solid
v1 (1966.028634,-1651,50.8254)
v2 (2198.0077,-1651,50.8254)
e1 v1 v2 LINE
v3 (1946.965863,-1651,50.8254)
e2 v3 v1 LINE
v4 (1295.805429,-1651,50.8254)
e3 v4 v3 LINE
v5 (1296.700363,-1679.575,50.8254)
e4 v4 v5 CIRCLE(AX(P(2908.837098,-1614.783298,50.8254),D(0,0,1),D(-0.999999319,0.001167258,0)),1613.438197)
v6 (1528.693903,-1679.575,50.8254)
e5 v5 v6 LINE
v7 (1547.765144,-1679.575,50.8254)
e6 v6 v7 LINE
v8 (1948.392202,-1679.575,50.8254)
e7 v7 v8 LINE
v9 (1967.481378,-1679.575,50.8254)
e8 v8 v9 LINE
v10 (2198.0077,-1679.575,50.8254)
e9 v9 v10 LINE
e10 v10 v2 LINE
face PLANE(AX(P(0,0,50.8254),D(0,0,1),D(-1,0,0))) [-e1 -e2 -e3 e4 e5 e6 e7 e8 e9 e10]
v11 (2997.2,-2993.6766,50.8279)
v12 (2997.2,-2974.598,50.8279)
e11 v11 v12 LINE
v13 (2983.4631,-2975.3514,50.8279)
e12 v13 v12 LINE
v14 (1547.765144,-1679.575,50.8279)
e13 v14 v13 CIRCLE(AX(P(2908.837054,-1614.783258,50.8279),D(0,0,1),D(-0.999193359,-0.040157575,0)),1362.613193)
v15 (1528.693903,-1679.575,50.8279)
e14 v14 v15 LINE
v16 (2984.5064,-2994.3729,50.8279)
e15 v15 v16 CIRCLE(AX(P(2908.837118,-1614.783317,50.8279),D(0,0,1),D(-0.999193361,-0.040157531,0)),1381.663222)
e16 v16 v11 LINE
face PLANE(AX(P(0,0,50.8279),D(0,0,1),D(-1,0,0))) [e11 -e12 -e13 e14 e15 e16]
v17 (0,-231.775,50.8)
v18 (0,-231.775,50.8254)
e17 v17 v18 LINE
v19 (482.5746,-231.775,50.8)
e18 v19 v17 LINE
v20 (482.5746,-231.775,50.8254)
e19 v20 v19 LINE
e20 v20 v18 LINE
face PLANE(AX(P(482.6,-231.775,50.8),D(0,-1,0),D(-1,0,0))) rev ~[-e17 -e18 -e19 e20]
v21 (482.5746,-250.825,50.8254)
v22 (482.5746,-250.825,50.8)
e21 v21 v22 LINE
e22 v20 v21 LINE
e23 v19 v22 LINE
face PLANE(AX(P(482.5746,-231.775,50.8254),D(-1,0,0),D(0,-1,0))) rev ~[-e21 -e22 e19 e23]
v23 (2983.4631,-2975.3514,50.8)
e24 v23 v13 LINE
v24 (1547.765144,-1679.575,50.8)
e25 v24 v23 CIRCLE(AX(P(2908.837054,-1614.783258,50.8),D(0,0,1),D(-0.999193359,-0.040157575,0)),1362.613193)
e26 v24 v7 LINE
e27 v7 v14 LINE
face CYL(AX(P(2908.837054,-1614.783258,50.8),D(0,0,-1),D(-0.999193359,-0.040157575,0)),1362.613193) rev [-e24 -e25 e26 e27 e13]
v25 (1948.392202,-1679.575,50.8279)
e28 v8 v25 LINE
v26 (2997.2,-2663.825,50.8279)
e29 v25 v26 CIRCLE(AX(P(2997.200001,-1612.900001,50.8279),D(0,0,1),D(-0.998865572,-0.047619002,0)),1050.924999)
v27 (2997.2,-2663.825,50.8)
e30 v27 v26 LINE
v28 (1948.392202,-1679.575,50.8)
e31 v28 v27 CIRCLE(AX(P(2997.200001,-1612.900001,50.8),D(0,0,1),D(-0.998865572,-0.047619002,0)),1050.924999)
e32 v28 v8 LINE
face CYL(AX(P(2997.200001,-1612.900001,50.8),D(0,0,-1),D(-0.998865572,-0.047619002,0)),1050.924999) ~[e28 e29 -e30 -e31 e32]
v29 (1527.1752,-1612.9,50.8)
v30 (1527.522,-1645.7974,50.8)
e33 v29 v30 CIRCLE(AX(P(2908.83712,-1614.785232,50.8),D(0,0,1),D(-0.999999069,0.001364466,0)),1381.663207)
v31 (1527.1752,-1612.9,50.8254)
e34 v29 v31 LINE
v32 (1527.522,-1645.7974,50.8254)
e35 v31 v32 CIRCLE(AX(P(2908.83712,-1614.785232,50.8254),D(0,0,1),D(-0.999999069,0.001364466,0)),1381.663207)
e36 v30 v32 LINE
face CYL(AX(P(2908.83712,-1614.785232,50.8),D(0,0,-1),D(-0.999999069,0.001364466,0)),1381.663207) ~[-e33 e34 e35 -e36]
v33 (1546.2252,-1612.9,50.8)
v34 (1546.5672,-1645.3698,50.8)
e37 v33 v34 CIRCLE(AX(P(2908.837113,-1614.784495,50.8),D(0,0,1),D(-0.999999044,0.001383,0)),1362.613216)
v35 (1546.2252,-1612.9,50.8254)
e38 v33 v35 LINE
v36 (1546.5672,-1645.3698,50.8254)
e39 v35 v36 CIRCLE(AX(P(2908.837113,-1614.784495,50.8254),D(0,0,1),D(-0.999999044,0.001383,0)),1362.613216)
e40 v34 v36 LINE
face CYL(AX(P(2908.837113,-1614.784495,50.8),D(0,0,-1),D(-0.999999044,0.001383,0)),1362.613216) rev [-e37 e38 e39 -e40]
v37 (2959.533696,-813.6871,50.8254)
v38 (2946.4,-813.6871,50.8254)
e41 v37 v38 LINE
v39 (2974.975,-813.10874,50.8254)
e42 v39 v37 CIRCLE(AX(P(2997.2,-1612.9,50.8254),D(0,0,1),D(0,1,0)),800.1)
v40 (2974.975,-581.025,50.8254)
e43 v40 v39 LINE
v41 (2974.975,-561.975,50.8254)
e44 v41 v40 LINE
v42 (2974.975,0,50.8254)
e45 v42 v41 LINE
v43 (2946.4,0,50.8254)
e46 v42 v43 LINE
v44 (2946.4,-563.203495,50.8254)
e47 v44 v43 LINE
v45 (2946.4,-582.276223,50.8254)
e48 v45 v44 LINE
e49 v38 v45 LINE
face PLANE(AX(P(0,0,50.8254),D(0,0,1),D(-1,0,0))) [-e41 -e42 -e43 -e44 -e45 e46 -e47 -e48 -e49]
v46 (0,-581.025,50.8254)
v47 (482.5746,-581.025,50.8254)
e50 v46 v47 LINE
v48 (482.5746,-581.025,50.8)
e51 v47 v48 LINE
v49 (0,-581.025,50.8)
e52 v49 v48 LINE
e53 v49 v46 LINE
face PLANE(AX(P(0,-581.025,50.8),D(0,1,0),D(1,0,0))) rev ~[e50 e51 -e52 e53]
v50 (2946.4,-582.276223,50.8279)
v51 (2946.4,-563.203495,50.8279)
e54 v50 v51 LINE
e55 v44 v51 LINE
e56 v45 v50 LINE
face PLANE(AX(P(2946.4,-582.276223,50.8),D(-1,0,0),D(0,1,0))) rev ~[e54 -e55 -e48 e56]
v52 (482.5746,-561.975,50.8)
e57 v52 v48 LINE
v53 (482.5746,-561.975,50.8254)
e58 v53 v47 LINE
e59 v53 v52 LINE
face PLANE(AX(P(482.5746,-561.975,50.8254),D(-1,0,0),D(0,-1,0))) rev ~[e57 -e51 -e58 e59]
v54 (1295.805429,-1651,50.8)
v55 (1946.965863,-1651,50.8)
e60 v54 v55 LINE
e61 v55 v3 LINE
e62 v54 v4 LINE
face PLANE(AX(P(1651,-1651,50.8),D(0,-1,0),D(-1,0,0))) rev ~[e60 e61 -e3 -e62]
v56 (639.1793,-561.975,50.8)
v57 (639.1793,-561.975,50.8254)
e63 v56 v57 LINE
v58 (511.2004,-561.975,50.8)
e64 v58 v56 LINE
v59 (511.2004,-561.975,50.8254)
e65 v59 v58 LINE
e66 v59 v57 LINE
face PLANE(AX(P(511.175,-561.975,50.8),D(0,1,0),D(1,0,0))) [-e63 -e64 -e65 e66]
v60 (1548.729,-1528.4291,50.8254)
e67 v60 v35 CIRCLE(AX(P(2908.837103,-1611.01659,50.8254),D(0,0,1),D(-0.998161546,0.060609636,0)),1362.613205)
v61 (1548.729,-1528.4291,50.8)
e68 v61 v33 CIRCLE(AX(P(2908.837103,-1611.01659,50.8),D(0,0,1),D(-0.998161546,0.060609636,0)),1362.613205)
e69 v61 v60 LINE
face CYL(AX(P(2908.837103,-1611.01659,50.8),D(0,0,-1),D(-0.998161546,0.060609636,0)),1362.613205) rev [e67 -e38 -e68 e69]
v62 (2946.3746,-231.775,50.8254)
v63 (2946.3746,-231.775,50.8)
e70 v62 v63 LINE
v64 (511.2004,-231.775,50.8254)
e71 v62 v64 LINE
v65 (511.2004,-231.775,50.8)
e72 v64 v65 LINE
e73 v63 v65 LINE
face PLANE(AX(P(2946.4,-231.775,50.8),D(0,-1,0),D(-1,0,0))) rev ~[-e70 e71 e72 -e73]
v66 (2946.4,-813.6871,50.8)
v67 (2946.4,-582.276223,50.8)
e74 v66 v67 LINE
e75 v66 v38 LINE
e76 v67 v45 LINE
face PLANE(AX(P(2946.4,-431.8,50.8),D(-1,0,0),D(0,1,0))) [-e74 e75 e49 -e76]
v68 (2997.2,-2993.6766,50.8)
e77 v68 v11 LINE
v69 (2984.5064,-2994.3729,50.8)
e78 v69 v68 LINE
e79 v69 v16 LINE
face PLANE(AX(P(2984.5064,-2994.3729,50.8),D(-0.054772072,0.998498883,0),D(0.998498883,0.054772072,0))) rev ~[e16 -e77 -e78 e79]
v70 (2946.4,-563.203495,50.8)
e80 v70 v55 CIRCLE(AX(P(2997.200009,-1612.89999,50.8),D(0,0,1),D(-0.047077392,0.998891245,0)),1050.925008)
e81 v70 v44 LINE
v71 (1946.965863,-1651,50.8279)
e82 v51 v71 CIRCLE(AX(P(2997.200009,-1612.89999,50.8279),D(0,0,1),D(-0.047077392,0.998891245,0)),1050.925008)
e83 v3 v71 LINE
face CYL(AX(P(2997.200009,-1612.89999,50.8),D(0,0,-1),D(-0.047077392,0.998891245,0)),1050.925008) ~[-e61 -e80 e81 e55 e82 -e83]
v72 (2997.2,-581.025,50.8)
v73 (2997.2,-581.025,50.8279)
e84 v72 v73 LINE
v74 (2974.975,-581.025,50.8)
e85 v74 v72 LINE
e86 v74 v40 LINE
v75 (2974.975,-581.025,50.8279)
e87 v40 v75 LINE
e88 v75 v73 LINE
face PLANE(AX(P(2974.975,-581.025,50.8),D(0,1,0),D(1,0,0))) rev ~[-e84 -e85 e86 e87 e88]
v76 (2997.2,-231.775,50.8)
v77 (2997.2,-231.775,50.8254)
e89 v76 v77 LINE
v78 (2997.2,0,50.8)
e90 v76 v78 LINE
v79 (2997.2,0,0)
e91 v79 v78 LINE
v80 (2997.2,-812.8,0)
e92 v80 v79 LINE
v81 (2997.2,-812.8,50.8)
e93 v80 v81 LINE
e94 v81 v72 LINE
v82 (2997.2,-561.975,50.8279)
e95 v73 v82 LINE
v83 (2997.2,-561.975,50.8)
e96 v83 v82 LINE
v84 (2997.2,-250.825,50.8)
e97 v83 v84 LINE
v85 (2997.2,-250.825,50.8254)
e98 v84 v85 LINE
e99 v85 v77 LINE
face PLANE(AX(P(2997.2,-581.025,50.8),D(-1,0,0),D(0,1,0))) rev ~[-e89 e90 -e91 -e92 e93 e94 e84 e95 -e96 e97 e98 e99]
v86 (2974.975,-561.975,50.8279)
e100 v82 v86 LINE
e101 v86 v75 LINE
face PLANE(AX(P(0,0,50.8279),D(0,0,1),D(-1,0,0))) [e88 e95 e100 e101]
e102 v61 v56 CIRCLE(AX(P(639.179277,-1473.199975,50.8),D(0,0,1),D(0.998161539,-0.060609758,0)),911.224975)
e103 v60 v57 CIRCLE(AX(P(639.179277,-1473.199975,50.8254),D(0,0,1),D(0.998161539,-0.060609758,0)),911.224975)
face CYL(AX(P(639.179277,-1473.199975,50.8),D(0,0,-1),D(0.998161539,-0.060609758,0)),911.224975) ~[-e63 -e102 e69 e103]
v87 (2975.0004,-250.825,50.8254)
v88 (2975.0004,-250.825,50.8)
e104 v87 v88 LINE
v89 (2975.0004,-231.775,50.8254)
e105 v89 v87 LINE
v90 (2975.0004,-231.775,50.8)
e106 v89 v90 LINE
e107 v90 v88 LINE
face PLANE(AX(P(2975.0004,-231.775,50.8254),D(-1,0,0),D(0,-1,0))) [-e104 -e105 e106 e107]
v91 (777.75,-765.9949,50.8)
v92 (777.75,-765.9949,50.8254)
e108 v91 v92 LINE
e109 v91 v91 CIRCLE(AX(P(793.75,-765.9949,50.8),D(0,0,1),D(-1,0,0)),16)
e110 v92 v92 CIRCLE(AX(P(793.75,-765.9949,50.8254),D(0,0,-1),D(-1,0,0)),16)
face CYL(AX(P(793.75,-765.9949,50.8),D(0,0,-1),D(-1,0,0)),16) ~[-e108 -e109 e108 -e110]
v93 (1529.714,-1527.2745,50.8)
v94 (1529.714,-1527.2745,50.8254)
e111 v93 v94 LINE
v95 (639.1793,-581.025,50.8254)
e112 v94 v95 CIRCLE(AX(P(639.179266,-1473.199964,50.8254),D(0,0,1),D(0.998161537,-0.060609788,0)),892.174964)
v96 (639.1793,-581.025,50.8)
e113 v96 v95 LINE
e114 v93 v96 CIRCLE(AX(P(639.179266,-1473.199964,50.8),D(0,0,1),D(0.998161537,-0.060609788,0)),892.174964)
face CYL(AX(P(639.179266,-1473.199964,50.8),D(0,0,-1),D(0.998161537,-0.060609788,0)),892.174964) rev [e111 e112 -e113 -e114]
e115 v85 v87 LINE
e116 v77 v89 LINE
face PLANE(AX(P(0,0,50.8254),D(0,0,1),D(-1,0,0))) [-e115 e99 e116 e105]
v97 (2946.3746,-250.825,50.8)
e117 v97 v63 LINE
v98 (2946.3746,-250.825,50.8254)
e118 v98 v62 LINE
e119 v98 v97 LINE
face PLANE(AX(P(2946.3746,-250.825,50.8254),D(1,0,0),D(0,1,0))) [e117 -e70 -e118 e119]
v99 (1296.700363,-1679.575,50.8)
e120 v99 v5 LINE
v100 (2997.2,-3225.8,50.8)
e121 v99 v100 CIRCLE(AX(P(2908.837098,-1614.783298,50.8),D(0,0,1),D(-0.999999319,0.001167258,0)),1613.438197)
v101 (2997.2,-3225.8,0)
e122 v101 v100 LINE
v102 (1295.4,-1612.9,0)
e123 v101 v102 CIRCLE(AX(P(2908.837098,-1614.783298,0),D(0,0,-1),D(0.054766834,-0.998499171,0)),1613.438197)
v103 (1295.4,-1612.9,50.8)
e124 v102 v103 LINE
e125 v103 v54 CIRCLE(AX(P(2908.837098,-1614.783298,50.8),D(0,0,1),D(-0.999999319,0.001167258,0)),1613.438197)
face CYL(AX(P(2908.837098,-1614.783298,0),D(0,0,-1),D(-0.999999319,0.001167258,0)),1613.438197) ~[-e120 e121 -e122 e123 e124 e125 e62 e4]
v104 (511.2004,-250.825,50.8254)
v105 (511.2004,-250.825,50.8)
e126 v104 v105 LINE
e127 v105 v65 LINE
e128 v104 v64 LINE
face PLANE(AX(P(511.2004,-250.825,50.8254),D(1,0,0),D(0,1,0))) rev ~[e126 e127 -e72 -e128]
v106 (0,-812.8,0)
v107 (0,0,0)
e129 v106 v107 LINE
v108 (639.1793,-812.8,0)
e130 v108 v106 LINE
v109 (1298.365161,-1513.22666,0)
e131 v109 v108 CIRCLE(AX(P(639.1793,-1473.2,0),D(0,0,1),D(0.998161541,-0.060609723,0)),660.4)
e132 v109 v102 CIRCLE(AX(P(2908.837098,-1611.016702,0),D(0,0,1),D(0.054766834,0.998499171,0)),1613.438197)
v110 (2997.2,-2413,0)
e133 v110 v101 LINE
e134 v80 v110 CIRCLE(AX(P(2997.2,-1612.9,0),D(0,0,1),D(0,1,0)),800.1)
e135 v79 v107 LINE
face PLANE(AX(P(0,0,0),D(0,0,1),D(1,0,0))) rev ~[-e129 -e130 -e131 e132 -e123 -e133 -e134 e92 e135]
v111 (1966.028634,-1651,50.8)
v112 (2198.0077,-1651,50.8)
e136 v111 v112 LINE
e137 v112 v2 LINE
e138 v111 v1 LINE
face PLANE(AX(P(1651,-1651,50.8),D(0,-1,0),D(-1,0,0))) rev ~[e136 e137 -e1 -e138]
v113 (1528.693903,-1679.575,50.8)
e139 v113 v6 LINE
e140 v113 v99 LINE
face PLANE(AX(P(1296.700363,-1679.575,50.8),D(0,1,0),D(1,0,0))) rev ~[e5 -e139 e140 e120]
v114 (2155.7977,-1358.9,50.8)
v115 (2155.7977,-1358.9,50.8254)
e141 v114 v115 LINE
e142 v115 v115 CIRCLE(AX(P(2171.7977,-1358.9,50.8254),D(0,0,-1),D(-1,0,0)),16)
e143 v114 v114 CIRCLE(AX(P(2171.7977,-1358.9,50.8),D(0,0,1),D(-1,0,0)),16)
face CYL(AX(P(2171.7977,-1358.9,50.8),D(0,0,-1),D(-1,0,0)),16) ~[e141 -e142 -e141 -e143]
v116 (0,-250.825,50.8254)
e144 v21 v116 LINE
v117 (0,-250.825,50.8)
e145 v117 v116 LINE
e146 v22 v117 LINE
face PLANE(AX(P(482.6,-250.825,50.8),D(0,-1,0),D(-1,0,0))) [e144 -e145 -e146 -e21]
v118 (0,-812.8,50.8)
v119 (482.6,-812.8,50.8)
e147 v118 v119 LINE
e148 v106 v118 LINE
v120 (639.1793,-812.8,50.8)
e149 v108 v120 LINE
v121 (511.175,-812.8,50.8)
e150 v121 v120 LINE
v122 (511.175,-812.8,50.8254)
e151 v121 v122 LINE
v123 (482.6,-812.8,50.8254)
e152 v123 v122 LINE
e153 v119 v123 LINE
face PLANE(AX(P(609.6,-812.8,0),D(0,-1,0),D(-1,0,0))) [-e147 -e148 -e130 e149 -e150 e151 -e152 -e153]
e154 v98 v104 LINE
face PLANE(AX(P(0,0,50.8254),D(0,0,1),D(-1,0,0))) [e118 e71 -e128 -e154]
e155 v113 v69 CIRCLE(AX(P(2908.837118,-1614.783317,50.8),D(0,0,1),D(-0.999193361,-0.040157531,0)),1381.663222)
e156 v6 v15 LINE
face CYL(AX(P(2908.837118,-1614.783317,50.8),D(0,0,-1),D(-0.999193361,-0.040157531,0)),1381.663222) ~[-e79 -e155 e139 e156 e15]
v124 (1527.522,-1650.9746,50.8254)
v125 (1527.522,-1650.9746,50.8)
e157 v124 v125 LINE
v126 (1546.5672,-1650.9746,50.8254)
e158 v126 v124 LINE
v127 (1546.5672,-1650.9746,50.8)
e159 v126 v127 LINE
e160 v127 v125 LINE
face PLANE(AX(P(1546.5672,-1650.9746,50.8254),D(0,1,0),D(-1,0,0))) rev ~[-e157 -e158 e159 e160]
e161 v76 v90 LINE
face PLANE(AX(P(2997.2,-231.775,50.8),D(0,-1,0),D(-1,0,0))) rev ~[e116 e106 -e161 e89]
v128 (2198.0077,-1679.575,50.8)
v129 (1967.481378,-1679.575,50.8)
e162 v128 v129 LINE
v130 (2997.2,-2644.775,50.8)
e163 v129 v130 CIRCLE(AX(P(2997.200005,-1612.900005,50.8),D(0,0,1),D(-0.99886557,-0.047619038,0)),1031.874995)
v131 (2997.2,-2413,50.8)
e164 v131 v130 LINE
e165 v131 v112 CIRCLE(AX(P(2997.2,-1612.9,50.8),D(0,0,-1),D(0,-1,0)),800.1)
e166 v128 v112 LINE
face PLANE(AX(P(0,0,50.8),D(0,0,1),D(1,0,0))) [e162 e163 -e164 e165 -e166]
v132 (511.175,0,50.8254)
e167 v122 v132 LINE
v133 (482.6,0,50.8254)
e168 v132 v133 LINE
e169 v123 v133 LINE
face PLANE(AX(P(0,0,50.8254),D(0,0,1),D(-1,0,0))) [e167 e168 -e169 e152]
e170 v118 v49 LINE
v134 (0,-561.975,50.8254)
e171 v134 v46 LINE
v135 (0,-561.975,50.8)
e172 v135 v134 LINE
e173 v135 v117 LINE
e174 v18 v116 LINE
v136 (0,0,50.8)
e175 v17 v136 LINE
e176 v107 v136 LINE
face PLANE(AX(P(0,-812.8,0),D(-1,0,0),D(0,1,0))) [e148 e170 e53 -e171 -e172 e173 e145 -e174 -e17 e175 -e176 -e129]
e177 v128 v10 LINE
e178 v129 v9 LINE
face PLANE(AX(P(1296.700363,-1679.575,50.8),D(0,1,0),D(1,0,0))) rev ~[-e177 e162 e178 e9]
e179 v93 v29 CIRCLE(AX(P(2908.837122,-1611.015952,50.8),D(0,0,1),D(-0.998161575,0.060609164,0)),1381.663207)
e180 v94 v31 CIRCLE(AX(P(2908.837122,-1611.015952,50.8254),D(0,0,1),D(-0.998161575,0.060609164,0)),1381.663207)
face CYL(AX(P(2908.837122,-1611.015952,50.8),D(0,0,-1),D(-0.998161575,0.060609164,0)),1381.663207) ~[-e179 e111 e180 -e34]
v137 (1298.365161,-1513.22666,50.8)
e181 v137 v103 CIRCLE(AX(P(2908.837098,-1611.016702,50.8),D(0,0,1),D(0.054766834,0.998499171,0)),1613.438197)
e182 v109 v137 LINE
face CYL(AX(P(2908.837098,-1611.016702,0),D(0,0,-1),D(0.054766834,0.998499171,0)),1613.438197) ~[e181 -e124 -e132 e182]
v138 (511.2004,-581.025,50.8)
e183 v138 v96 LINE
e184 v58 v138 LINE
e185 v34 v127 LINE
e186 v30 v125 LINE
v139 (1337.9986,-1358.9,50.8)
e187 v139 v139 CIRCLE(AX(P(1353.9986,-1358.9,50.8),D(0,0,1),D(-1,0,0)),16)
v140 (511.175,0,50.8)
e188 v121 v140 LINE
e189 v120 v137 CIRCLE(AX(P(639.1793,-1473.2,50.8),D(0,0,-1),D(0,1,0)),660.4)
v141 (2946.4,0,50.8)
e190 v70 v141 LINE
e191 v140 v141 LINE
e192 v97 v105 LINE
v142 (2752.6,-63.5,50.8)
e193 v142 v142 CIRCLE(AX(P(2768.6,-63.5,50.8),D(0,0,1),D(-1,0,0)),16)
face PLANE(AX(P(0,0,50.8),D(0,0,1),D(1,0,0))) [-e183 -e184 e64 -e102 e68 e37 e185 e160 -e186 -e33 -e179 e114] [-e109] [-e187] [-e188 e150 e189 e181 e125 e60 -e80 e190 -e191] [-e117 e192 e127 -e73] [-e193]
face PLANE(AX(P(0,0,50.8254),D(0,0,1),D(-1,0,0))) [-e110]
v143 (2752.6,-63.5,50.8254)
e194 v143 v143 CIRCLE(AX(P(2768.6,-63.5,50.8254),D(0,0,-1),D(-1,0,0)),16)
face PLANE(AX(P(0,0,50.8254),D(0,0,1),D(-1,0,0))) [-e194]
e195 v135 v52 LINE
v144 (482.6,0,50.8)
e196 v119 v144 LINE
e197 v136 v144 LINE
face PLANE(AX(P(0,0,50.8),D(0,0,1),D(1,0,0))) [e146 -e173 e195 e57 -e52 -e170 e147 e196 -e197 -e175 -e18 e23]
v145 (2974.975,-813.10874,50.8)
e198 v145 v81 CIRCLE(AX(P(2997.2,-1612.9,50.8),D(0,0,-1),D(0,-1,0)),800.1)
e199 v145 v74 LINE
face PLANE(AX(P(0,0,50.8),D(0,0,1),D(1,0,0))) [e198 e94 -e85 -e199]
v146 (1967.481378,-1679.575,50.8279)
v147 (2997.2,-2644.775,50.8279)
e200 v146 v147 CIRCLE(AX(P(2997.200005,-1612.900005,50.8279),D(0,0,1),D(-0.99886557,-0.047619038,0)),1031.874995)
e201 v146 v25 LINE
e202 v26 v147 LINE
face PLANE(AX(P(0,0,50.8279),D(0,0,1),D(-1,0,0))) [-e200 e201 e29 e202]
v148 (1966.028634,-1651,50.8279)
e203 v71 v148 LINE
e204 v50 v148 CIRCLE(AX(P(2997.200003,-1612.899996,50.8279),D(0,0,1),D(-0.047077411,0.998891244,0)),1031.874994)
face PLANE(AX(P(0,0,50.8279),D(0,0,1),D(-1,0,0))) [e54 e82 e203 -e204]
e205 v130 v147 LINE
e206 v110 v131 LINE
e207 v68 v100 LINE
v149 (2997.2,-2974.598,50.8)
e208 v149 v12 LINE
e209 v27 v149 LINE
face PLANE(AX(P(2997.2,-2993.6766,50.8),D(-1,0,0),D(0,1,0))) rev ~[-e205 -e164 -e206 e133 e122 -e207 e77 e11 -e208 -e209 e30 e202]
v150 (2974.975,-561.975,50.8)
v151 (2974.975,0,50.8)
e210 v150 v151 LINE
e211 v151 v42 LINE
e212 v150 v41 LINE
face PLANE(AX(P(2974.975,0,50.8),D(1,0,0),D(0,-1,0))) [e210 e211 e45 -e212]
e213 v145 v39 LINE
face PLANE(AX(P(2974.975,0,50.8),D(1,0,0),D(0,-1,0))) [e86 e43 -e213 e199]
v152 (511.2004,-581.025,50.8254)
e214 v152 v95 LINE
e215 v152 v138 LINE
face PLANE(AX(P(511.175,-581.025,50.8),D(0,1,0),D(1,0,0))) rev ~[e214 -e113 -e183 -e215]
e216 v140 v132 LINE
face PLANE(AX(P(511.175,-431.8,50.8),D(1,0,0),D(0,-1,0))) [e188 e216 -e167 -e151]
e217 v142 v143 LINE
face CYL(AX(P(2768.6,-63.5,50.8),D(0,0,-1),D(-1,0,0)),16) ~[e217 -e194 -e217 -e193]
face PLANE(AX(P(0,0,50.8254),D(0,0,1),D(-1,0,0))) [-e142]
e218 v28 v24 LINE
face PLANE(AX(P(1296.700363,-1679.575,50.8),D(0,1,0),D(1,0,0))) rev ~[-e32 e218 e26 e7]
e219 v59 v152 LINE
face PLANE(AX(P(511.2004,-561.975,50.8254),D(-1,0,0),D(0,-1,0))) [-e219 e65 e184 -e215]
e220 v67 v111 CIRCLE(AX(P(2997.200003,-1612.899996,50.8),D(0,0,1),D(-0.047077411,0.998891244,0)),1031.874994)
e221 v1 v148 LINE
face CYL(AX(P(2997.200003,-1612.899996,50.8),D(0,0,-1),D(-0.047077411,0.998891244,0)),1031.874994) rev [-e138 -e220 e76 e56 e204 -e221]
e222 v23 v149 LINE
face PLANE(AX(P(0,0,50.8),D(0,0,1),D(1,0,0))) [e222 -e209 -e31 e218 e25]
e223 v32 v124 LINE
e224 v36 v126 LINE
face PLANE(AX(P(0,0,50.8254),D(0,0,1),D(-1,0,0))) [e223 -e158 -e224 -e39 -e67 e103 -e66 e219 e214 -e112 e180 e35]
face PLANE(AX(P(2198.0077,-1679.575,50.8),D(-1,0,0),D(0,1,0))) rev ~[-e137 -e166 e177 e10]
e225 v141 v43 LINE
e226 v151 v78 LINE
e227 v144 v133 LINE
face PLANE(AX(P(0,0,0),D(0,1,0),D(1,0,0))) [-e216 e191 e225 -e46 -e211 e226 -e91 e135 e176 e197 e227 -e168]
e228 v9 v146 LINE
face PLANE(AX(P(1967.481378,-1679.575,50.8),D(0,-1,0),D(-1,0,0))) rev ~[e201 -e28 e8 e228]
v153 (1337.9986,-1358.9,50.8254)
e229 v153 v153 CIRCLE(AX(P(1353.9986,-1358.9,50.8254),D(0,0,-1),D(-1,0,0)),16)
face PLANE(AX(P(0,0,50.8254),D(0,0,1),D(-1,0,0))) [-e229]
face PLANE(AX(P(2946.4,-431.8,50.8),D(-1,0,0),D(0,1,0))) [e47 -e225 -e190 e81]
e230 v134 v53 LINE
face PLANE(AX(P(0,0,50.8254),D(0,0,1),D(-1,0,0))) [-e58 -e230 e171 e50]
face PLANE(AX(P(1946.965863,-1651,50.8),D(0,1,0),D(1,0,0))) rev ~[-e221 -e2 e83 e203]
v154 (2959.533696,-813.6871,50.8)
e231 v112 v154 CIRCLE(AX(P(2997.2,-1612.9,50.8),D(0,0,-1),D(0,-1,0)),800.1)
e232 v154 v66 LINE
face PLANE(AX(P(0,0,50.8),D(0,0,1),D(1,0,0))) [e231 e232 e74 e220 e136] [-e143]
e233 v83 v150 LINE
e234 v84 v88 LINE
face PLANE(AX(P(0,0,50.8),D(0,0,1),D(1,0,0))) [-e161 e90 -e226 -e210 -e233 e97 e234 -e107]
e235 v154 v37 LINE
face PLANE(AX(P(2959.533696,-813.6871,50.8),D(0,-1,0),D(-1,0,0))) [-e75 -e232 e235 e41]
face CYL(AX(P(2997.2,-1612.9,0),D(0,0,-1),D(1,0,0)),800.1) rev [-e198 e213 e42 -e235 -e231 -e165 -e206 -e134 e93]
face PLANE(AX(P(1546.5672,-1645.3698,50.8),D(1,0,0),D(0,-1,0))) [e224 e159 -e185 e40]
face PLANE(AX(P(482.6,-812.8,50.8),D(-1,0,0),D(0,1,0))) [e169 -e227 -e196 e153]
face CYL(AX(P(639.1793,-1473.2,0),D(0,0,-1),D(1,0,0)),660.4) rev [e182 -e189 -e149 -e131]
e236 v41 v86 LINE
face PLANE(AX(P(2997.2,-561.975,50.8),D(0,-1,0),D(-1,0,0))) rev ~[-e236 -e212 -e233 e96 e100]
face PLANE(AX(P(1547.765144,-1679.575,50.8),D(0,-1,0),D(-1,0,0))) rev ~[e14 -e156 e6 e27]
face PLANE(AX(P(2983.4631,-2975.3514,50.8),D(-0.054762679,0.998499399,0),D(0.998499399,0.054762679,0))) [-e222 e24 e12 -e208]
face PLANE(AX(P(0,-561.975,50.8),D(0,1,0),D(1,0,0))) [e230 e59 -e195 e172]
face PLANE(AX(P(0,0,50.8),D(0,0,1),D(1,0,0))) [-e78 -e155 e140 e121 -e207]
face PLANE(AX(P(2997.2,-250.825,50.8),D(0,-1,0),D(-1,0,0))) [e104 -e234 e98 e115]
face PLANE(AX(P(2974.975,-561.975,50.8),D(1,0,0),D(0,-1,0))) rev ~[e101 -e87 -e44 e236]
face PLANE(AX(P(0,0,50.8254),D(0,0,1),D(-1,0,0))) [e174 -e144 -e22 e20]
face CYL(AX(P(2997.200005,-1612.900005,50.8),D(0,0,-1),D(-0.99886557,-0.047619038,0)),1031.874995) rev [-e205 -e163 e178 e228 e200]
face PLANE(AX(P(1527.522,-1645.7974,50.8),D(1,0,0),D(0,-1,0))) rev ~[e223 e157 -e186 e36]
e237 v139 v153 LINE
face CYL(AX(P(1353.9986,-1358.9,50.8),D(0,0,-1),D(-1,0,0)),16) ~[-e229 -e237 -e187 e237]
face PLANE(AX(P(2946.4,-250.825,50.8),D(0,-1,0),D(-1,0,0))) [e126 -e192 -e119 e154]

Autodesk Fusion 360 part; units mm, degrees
sketch "Sketch1" plane through (0, 0, 0) normal (0, 0, 1) x (1, 0, 0)
  line L0 (0, 0) -> (609.6, 0)
  line L1 (609.6, -812.8) -> (0, -812.8)
  line L2 (0, -812.8) -> (0, 0)
  line L3 (0, 0) -> (3022.6, 0)
  line L4 (3022.6, 0) -> (0, 0)
  line L5 (0, 0) -> (0, -812.8)
  line L6 (0, -812.8) -> (3022.6, -812.8)
  line L7 (0, 0) -> (1320.8, 0)
  circle A0 centre (4656.6619, -4772.6092) radius 793.75
  circle A1 centre (4656.6619, -4772.6092) radius 1625.6
  circle A2 centre (2997.2, -1612.9) radius 1612.9
  circle A3 centre (2997.2, -1612.9) radius 800.1
  line L8 (2997.2, -1612.9) -> (2997.2, 0)
  line L9 (2997.2, -1612.9) -> (2997.2, -3225.8)
  line L10 (3022.6, 0) -> (2997.2, 0)
  line L11 (2997.2, 0) -> (2997.2, -812.8)
  line L12 (2997.2, -812.8) -> (3022.6, -812.8)
  line L13 (2997.2, -1612.9) -> (1295.4, -1612.9)
  arc A4 (1384.3, -1612.9) -> (2997.2, -3225.8) centre (2997.2, -1612.9) ccw
  arc A5 (1384.3, -1612.9) -> (2997.2, -3225.8) centre (2997.2, -1612.9) ccw
  line L14 (2997.2, -1612.9) -> (1806.0752, -2792.535)
  arc A6 (1295.4, -1612.9) -> (2997.2, -3225.8) centre (2908.8371, -1614.7833) ccw
  arc A7 (2997.2, 0) -> (1295.4, -1612.9) centre (2908.8371, -1611.0167) ccw
  circle A8 centre (639.1793, -1473.2) radius 660.4
  dimension "d1" = 609.6
  dimension "d2" = 812.8
  dimension "d4" = 3022.6
  dimension "d8" = 1320.8
  dimension "d10" = 1587.5
  dimension "d11" = 3251.2
  dimension "d14" = 25.4
  dimension "d15" = 1701.8
  dimension "d16" = 1676.4
  dimension "d18" = 1320.8
extrude "Extrude1" add sketch "Sketch1" along normal blind 50.8 contours L0 L1 L2 L3 L4 L5 L6 L7 A7 | L3 L4 L6 A2 A7 | L6 A7 A8 | L6 A2 L8 L11 | L6 A2 L13 A7 | L6 A2 A3 L13 | A2 L13 A4 A5 L14 A6 | A2 A4 A5 L14 A6 | A2 A3 L9 A4 A5 L14 | A2 A3 L13 A4 A5 L14
sketch "Lines" plane through (0, 0, 50.8) normal (0, 0, 1) x (-1, 0, 0)
  arc A0 (-1295.4, 1612.9) -> (-2997.2, 3225.8) centre (-2908.8371, 1614.7833) ccw
  line L0 (-2997.2, 3225.8) -> (-2997.2, 2413)
  arc A1 (-2997.2, 812.8) -> (-2997.2, 2413) centre (-2997.2, 1612.9) ccw
  line L1 (-2997.2, 812.8) -> (-2997.2, 0)
  line L2 (-2997.2, 0) -> (0, 0)
  line L3 (0, 0) -> (0, 812.8)
  line L4 (0, 812.8) -> (-639.1793, 812.8)
  arc A2 (-1298.3651, 1513.2267) -> (-639.1793, 812.8) centre (-639.1793, 1473.2) ccw
  arc A3 (-1298.3651, 1513.2267) -> (-1295.4, 1612.9) centre (-2908.8371, 1611.0167) ccw
  line L5 (0, 431.8) -> (-482.6, 431.8)
  line L6 (-482.6, 431.8) -> (-511.175, 431.8)
  line L7 (-511.175, 431.8) -> (-511.175, 812.8)
  line L8 (-511.175, 812.8) -> (-482.6, 812.8)
  line L9 (-482.6, 812.8) -> (-482.6, 431.8)
  line L10 (-511.175, 812.8) -> (-482.6, 812.8)
  line L11 (-482.6, 812.8) -> (-482.6, 0)
  line L12 (-482.6, 0) -> (-511.175, 0)
  line L13 (-511.175, 0) -> (-511.175, 812.8)
  line L14 (-1651, 0) -> (-1651, 1651)
  line L15 (-1651, 1651) -> (-1291.2162, 1651)
  line L16 (-1291.2162, 1651) -> (-1291.2162, 1679.575)
  line L17 (-1291.2162, 1679.575) -> (-1651, 1679.575)
  line L18 (-1651, 1679.575) -> (-1651, 1651)
  line L19 (-1291.2162, 1679.575) -> (-2198.0077, 1679.575)
  line L20 (-2198.0077, 1679.575) -> (-2198.0077, 1651)
  line L21 (-2198.0077, 1651) -> (-1291.2162, 1651)
  line L22 (-1291.2162, 1651) -> (-1291.2162, 1679.575)
  line L23 (0, 431.8) -> (-2946.4, 431.8)
  line L24 (-2946.4, 431.8) -> (-2974.975, 431.8)
  line L25 (-2974.975, 431.8) -> (-2974.975, 813.6871)
  line L26 (-2974.975, 813.6871) -> (-2946.4, 813.6871)
  line L27 (-2946.4, 813.6871) -> (-2946.4, 431.8)
  line L28 (-2974.975, 431.8) -> (-2946.4, 431.8)
  line L29 (-2946.4, 431.8) -> (-2946.4, 0)
  line L30 (-2946.4, 0) -> (-2974.975, 0)
  line L31 (-2974.975, 0) -> (-2974.975, 431.8)
  dimension "d45" = 482.6
  dimension "d46" = 28.575
  dimension "d47" = 1651
  dimension "d48" = 28.575
  dimension "d49" = 2946.4
  dimension "d50" = 28.575
extrude "Extrude6" add sketch "Lines" along normal blind 0.0254 contours A0 L15 L17 L18 L19 L21 | L18 L19 L20 L21 | L4 L6 L7 L8 L9 L10 L11 L13 L23 | L2 L6 L11 L12 L13 L23 | L2 L24 L28 L29 L30 L31 | A1 L24 L25 L26 L27 L28
sketch "Sketch7" plane through (0, 0, 50.8) normal (0, 0, 1) x (-1, 0, 0)
  line L0 (-2959.5333, 813.6871) -> (-2946.4, 813.6871)
  line L1 (-2946.4, 813.6871) -> (-2946.4, 0)
  line L2 (-2946.4, 0) -> (-511.175, 0)
  line L3 (-511.175, 0) -> (-511.175, 812.8)
  line L4 (-511.175, 812.8) -> (-639.1793, 812.8)
  arc A0 (-1298.3651, 1513.2267) -> (-639.1793, 812.8) centre (-639.1793, 1473.2) ccw
  arc A1 (-1298.3651, 1513.2267) -> (-1295.4, 1612.9) centre (-2908.8371, 1611.0167) ccw
  arc A2 (-1295.4, 1612.9) -> (-1295.8054, 1651) centre (-2908.8371, 1614.7833) ccw
  line L5 (-1295.8054, 1651) -> (-2198.0077, 1651)
  arc A3 (-2959.5333, 813.6871) -> (-2198.0077, 1651) centre (-2997.2, 1612.9) ccw
  line L6 (-482.6, 812.8) -> (-482.6, 0)
  line L7 (-482.6, 0) -> (0, 0)
  line L8 (0, 0) -> (0, 812.8)
  line L9 (0, 812.8) -> (-482.6, 812.8)
  line L10 (-2198.0077, 1679.575) -> (-1296.7004, 1679.575)
  arc A4 (-1296.7004, 1679.575) -> (-2997.2, 3225.8) centre (-2908.8371, 1614.7833) ccw
  line L11 (-2997.2, 3225.8) -> (-2997.2, 2413)
  arc A5 (-2198.0077, 1651) -> (-2997.2, 2413) centre (-2997.2, 1612.9) ccw
  line L12 (-2198.0077, 1651) -> (-2198.0077, 1679.575)
  line L13 (-2997.2, 812.8) -> (-2997.2, 0)
  line L14 (-574.675, 749.3) -> (-639.1793, 749.3)
  arc A6 (-1361.7484, 1517.0754) -> (-639.1793, 749.3) centre (-639.1793, 1473.2) ccw
  arc A7 (-1361.7484, 1517.0754) -> (-1359.0773, 1587.5) centre (-2908.8371, 1611.0167) ccw
  line L15 (-1359.0773, 1587.5) -> (-2133.9736, 1587.5)
  arc A8 (-2882.9, 756.8974) -> (-2133.9736, 1587.5) centre (-2997.2, 1612.9) ccw
  line L16 (-2882.9, 756.8974) -> (-2882.9, 63.5)
  line L17 (-2882.9, 63.5) -> (-574.675, 63.5)
  line L18 (-574.675, 63.5) -> (-574.675, 749.3)
  circle A9 centre (-793.75, 765.9949) radius 16
  circle A10 centre (-2171.7977, 1358.9) radius 16
  circle A11 centre (-1353.9986, 1358.9) radius 16
  circle A12 centre (-2768.6, 63.5) radius 16
  dimension "d53" = 63.5
  dimension "d55" = 32
  dimension "d59" = 32
  dimension "d60" = 32
  dimension "d62" = 32
extrude "Extrude7" add sketch "Sketch7" along normal blind 0.0254 contours A6 A9 | A6 A9 | L17 A12 | L17 A12 | A6 A11 | A6 A11 | A8 A10 | A8 A10
sketch "Sketch8" plane through (0, 0, 50.8) normal (0, 0, 1) x (-1, 0, 0)
  line L0 (-482.6, 812.8) -> (-482.6, 0)
  line L1 (-482.6, 0) -> (0, 0)
  line L2 (0, 0) -> (0, 812.8)
  line L3 (0, 812.8) -> (-482.6, 812.8)
  line L4 (-482.6, 231.775) -> (0, 231.775)
  line L5 (-482.6, 250.825) -> (0, 250.825)
  line L6 (0, 561.975) -> (-482.6, 561.975)
  line L7 (0, 581.025) -> (-482.6, 581.025)
  dimension "d66" = -250.825
extrude "Extrude8" add sketch "Sketch8" along normal blind 0.0254 contours L0 L2 L6 L7 | L0 L2 L4 L5
sketch "Sketch9" plane through (0, 0, 50.8254) normal (0, 0, 1) x (-1, 0, 0)
  line L0 (-511.175, 0) -> (-482.6, 0)
  line L1 (-482.6, 0) -> (-482.6, 231.775)
  line L2 (-482.6, 231.775) -> (0, 231.775)
  line L3 (0, 231.775) -> (0, 250.825)
  line L4 (0, 250.825) -> (-482.6, 250.825)
  line L5 (-482.6, 250.825) -> (-482.6, 561.975)
  line L6 (-482.6, 561.975) -> (0, 561.975)
  line L7 (0, 561.975) -> (0, 581.025)
  line L8 (0, 581.025) -> (-482.6, 581.025)
  line L9 (-482.6, 581.025) -> (-482.6, 812.8)
  line L10 (-482.6, 812.8) -> (-511.175, 812.8)
  line L11 (-511.175, 812.8) -> (-511.175, 0)
  line L12 (-482.6, 231.775) -> (-482.5746, 231.775)
  line L13 (-482.5746, 231.775) -> (-482.5746, 250.825)
  line L14 (-482.5746, 250.825) -> (-482.6, 250.825)
  line L15 (-482.6, 250.825) -> (-482.6, 231.775)
  dimension "d71" = 0.0254
extrude "Extrude9" cut sketch "Sketch9" against normal blind 0.0254 contours L2 L4 L12 L13 L14 L15
sketch "Sketch10" plane through (0, 0, 50.8) normal (0, 0, 1) x (-1, 0, 0)
  line L0 (-482.6, 581.025) -> (0, 581.025)
  line L1 (0, 581.025) -> (0, 812.8)
  line L2 (0, 812.8) -> (-482.6, 812.8)
  line L3 (-482.6, 812.8) -> (-482.6, 581.025)
sketch "Sketch11" plane through (0, 0, 50.8254) normal (0, 0, 1) x (-1, 0, 0)
  line L0 (-482.6, 0) -> (-482.6, 561.975)
  line L1 (-482.6, 561.975) -> (0, 561.975)
  line L2 (0, 561.975) -> (0, 581.025)
  line L3 (0, 581.025) -> (-482.6, 581.025)
  line L4 (-482.6, 581.025) -> (-482.6, 812.8)
  line L5 (-482.6, 812.8) -> (-511.175, 812.8)
  line L6 (-511.175, 812.8) -> (-511.175, 0)
  line L7 (-511.175, 0) -> (-482.6, 0)
  line L8 (-482.6, 561.975) -> (-482.5746, 561.975)
  line L9 (-482.5746, 561.975) -> (-482.5746, 581.025)
  line L10 (-482.5746, 581.025) -> (-482.6, 581.025)
  line L11 (-482.6, 581.025) -> (-482.6, 561.975)
  dimension "d74" = 0.0254
extrude "Extrude10" cut sketch "Sketch11" against normal blind 0.0254 contours L1 L3 L8 L9 L10 L11
sketch "Sketch12" plane through (0, 0, 50.8) normal (0, 0, 1) x (-1, 0, 0)
  circle A0 centre (-2768.6, 63.5) radius 16
  circle A1 centre (-793.75, 765.9949) radius 16
  circle A2 centre (-2171.7977, 1358.9) radius 16
  circle A3 centre (-1353.9986, 1358.9) radius 16
  line L0 (-2959.5333, 813.6871) -> (-2946.4, 813.6871)
  line L1 (-2946.4, 813.6871) -> (-2946.4, 0)
  line L2 (-2946.4, 0) -> (-511.175, 0)
  line L3 (-511.175, 0) -> (-511.175, 812.8)
  line L4 (-511.175, 812.8) -> (-639.1793, 812.8)
  arc A4 (-1298.3651, 1513.2267) -> (-639.1793, 812.8) centre (-639.1793, 1473.2) ccw
  arc A5 (-1298.3651, 1513.2267) -> (-1295.4, 1612.9) centre (-2908.8371, 1611.0167) ccw
  arc A6 (-1295.4, 1612.9) -> (-1295.8054, 1651) centre (-2908.8371, 1614.7833) ccw
  line L5 (-1295.8054, 1651) -> (-2198.0077, 1651)
  arc A7 (-2959.5333, 813.6871) -> (-2198.0077, 1651) centre (-2997.2, 1612.9) ccw
  line L6 (-2946.4, 250.825) -> (-511.175, 250.825)
  line L7 (-2946.4, 231.775) -> (-511.175, 231.775)
  dimension "d78" = -231.775
extrude "Extrude11" add sketch "Sketch12" along normal blind 0.0254 contours L1 L3 L6 L7
sketch "Sketch13" plane through (0, 0, 50.8254) normal (0, 0, 1) x (-1, 0, 0)
  line L0 (-482.6, 0) -> (-482.6, 812.8)
  line L1 (-482.6, 812.8) -> (-511.175, 812.8)
  line L2 (-511.175, 812.8) -> (-511.175, 250.825)
  line L3 (-511.175, 250.825) -> (-2946.4, 250.825)
  line L4 (-2946.4, 250.825) -> (-2946.4, 813.6871)
  line L5 (-2946.4, 813.6871) -> (-2959.5333, 813.6871)
  arc A0 (-2974.975, 813.1087) -> (-2959.5333, 813.6871) centre (-2997.2, 1612.9) ccw
  line L6 (-2974.975, 813.1087) -> (-2974.975, 0)
  line L7 (-2974.975, 0) -> (-2946.4, 0)
  line L8 (-2946.4, 0) -> (-2946.4, 231.775)
  line L9 (-2946.4, 231.775) -> (-511.175, 231.775)
  line L10 (-511.175, 231.775) -> (-511.175, 0)
  line L11 (-511.175, 0) -> (-482.6, 0)
  line L12 (-511.175, 250.825) -> (-511.2004, 250.825)
  line L13 (-511.2004, 250.825) -> (-511.2004, 231.775)
  line L14 (-511.2004, 231.775) -> (-511.175, 231.775)
  line L15 (-511.175, 231.775) -> (-511.175, 250.825)
  dimension "d81" = 0.0254
extrude "Extrude12" cut sketch "Sketch13" against normal blind 0.0254 contours L3 L9 L12 L13 L14 L15
sketch "Sketch14" plane through (0, 0, 50.8254) normal (0, 0, 1) x (-1, 0, 0)
  line L0 (-511.2004, 231.775) -> (-511.2004, 250.825)
  line L1 (-511.2004, 250.825) -> (-2946.4, 250.825)
  line L2 (-2946.4, 250.825) -> (-2946.4, 813.6871)
  line L3 (-2946.4, 813.6871) -> (-2959.5333, 813.6871)
  arc A0 (-2974.975, 813.1087) -> (-2959.5333, 813.6871) centre (-2997.2, 1612.9) ccw
  line L4 (-2974.975, 813.1087) -> (-2974.975, 0)
  line L5 (-2974.975, 0) -> (-2946.4, 0)
  line L6 (-2946.4, 0) -> (-2946.4, 231.775)
  line L7 (-2946.4, 231.775) -> (-511.2004, 231.775)
  line L8 (-2946.4, 250.825) -> (-2946.3746, 250.825)
  line L9 (-2946.3746, 250.825) -> (-2946.3746, 231.775)
  line L10 (-2946.3746, 231.775) -> (-2946.4, 231.775)
  line L11 (-2946.4, 231.775) -> (-2946.4, 250.825)
  dimension "d84" = 0.0254
extrude "Extrude13" cut sketch "Sketch14" against normal blind 0.0254 contours L1 L7 L8 L9 L10 L11
sketch "Sketch15" plane through (0, 0, 50.8) normal (0, 0, 1) x (-1, 0, 0)
  line L0 (-2974.975, 0) -> (-2974.975, 813.1087)
  arc A0 (-2997.2, 812.8) -> (-2974.975, 813.1087) centre (-2997.2, 1612.9) ccw
  line L1 (-2997.2, 812.8) -> (-2997.2, 0)
  line L2 (-2997.2, 0) -> (-2974.975, 0)
  line L3 (-2997.2, 231.775) -> (-2974.975, 231.775)
  line L4 (-2997.2, 250.825) -> (-2974.975, 250.825)
extrude "Extrude14" add sketch "Sketch15" along normal blind 0.0254 contours L0 L1 L3 L4
sketch "Sketch16" plane through (0, 0, 50.8254) normal (0, 0, 1) x (-1, 0, 0)
  line L0 (-2946.4, 0) -> (-2946.4, 813.6871)
  line L1 (-2946.4, 813.6871) -> (-2959.5333, 813.6871)
  arc A0 (-2974.975, 813.1087) -> (-2959.5333, 813.6871) centre (-2997.2, 1612.9) ccw
  line L2 (-2974.975, 813.1087) -> (-2974.975, 250.825)
  line L3 (-2974.975, 250.825) -> (-2997.2, 250.825)
  line L4 (-2997.2, 250.825) -> (-2997.2, 231.775)
  line L5 (-2997.2, 231.775) -> (-2974.975, 231.775)
  line L6 (-2974.975, 231.775) -> (-2974.975, 0)
  line L7 (-2974.975, 0) -> (-2946.4, 0)
  line L8 (-2974.975, 231.775) -> (-2975.0004, 231.775)
  line L9 (-2975.0004, 231.775) -> (-2975.0004, 250.825)
  line L10 (-2975.0004, 250.825) -> (-2974.975, 250.825)
  line L11 (-2974.975, 250.825) -> (-2974.975, 231.775)
  dimension "d93" = 0.0254
extrude "Extrude15" cut sketch "Sketch16" against normal blind 0.0254 contours L3 L5 L8 L9 L10 L11
sketch "Sketch17" plane through (0, 0, 50.8) normal (0, 0, 1) x (-1, 0, 0)
  line L0 (-2975.0004, 231.775) -> (-2997.2, 231.775)
  line L1 (-2997.2, 231.775) -> (-2997.2, 0)
  line L2 (-2997.2, 0) -> (-2974.975, 0)
  line L3 (-2974.975, 0) -> (-2974.975, 813.1087)
  arc A0 (-2997.2, 812.8) -> (-2974.975, 813.1087) centre (-2997.2, 1612.9) ccw
  line L4 (-2997.2, 812.8) -> (-2997.2, 250.825)
  line L5 (-2997.2, 250.825) -> (-2975.0004, 250.825)
  line L6 (-2975.0004, 250.825) -> (-2975.0004, 231.775)
sketch "Sketch18" plane through (0, 0, 50.8) normal (0, 0, 1) x (-1, 0, 0)
  line L0 (-2946.3746, 250.825) -> (-511.2004, 250.825)
  line L1 (-511.2004, 250.825) -> (-511.2004, 231.775)
  line L2 (-511.2004, 231.775) -> (-2946.3746, 231.775)
  line L3 (-2946.3746, 231.775) -> (-2946.3746, 250.825)
  circle A0 centre (-2768.6, 63.5) radius 16
  line L4 (-2946.4, 813.6871) -> (-2946.4, 0)
  line L5 (-2946.4, 0) -> (-511.175, 0)
  line L6 (-511.175, 0) -> (-511.175, 812.8)
  line L7 (-511.175, 812.8) -> (-639.1793, 812.8)
  arc A1 (-1298.3651, 1513.2267) -> (-639.1793, 812.8) centre (-639.1793, 1473.2) ccw
  arc A2 (-1298.3651, 1513.2267) -> (-1295.4, 1612.9) centre (-2908.8371, 1611.0167) ccw
  arc A3 (-1295.4, 1612.9) -> (-1295.8054, 1651) centre (-2908.8371, 1614.7833) ccw
  line L8 (-1295.8054, 1651) -> (-2198.0077, 1651)
  arc A4 (-2959.5333, 813.6871) -> (-2198.0077, 1651) centre (-2997.2, 1612.9) ccw
  line L9 (-2959.5333, 813.6871) -> (-2946.4, 813.6871)
  circle A5 centre (-793.75, 765.9949) radius 16
  circle A6 centre (-2171.7977, 1358.9) radius 16
  circle A7 centre (-1353.9986, 1358.9) radius 16
  arc A8 (-1548.729, 1528.4291) -> (-639.1793, 561.975) centre (-639.1793, 1473.2) ccw
  line L10 (-511.175, 561.975) -> (-639.1793, 561.975)
  arc A9 (-1529.714, 1527.2745) -> (-639.1793, 581.025) centre (-639.1793, 1473.2) ccw
  line L11 (-511.175, 581.025) -> (-639.1793, 581.025)
  arc A10 (-1529.714, 1527.2745) -> (-1527.1752, 1612.9) centre (-2908.8371, 1611.0167) ccw
  arc A11 (-1527.1752, 1612.9) -> (-1527.522, 1645.7974) centre (-2908.8371, 1614.7833) ccw
  arc A12 (-1548.729, 1528.4291) -> (-1546.2252, 1612.9) centre (-2908.8371, 1611.0167) ccw
  arc A13 (-1546.2252, 1612.9) -> (-1546.5672, 1645.3698) centre (-2908.8371, 1614.7833) ccw
  line L12 (-1527.522, 1645.7974) -> (-1527.522, 1651)
  line L13 (-1546.5672, 1645.3698) -> (-1546.5672, 1651)
  line L14 (-1527.522, 1651) -> (-1546.5672, 1651)
  dimension "d96" = -250.825
  dimension "d97" = -231.775
  dimension "d99" = -250.825
extrude "Extrude16" add sketch "Sketch18" along normal blind 0.0254 contours L6 L8 A8 L10 A9 L11 A10 A11 A12 A13 L12 L13 L14
sketch "Sketch19" plane through (0, 0, 50.8254) normal (0, 0, 1) x (-1, 0, 0)
  line L0 (-2198.0077, 1651) -> (-1546.5672, 1651)
  line L1 (-1546.5672, 1651) -> (-1546.5672, 1645.3698)
  arc A0 (-1546.2252, 1612.9) -> (-1546.5672, 1645.3698) centre (-2908.8371, 1614.7833) ccw
  arc A1 (-1548.729, 1528.4291) -> (-1546.2252, 1612.9) centre (-2908.8371, 1611.0167) ccw
  arc A2 (-1548.729, 1528.4291) -> (-639.1793, 561.975) centre (-639.1793, 1473.2) ccw
  line L2 (-639.1793, 561.975) -> (-511.175, 561.975)
  line L3 (-511.175, 561.975) -> (-511.175, 0)
  line L4 (-511.175, 0) -> (-482.6, 0)
  line L5 (-482.6, 0) -> (-482.6, 812.8)
  line L6 (-482.6, 812.8) -> (-511.175, 812.8)
  line L7 (-511.175, 812.8) -> (-511.175, 581.025)
  line L8 (-511.175, 581.025) -> (-639.1793, 581.025)
  arc A3 (-1529.714, 1527.2745) -> (-639.1793, 581.025) centre (-639.1793, 1473.2) ccw
  arc A4 (-1529.714, 1527.2745) -> (-1527.1752, 1612.9) centre (-2908.8371, 1611.0167) ccw
  arc A5 (-1527.1752, 1612.9) -> (-1527.522, 1645.7974) centre (-2908.8371, 1614.7833) ccw
  line L9 (-1527.522, 1645.7974) -> (-1527.522, 1651)
  line L10 (-1527.522, 1651) -> (-1295.8054, 1651)
  arc A6 (-1295.8054, 1651) -> (-1296.7004, 1679.575) centre (-2908.8371, 1614.7833) ccw
  line L11 (-1296.7004, 1679.575) -> (-2198.0077, 1679.575)
  line L12 (-2198.0077, 1679.575) -> (-2198.0077, 1651)
  line L13 (-511.175, 561.975) -> (-511.2004, 561.975)
  line L14 (-511.2004, 561.975) -> (-511.2004, 581.025)
  line L15 (-511.2004, 581.025) -> (-511.175, 581.025)
  line L16 (-511.175, 581.025) -> (-511.175, 561.975)
  dimension "d102" = 0.0254
extrude "Extrude17" cut sketch "Sketch19" against normal blind 0.0254 contours L2 L8 L13 L14 L15 L16
sketch "Sketch20" plane through (0, 0, 50.8254) normal (0, 0, 1) x (-1, 0, 0)
  line L0 (-511.2004, 561.975) -> (-511.2004, 581.025)
  line L1 (-511.2004, 581.025) -> (-639.1793, 581.025)
  arc A0 (-1529.714, 1527.2745) -> (-639.1793, 581.025) centre (-639.1793, 1473.2) ccw
  arc A1 (-1529.714, 1527.2745) -> (-1527.1752, 1612.9) centre (-2908.8371, 1611.0167) ccw
  arc A2 (-1527.1752, 1612.9) -> (-1527.522, 1645.7974) centre (-2908.8371, 1614.7833) ccw
  line L2 (-1527.522, 1645.7974) -> (-1527.522, 1651)
  line L3 (-1527.522, 1651) -> (-1295.8054, 1651)
  arc A3 (-1295.8054, 1651) -> (-1296.7004, 1679.575) centre (-2908.8371, 1614.7833) ccw
  line L4 (-1296.7004, 1679.575) -> (-2198.0077, 1679.575)
  line L5 (-2198.0077, 1679.575) -> (-2198.0077, 1651)
  line L6 (-2198.0077, 1651) -> (-1546.5672, 1651)
  line L7 (-1546.5672, 1651) -> (-1546.5672, 1645.3698)
  arc A4 (-1546.2252, 1612.9) -> (-1546.5672, 1645.3698) centre (-2908.8371, 1614.7833) ccw
  arc A5 (-1548.729, 1528.4291) -> (-1546.2252, 1612.9) centre (-2908.8371, 1611.0167) ccw
  arc A6 (-1548.729, 1528.4291) -> (-639.1793, 561.975) centre (-639.1793, 1473.2) ccw
  line L8 (-639.1793, 561.975) -> (-511.2004, 561.975)
  line L9 (-1527.522, 1651) -> (-1546.5672, 1651)
  line L10 (-1546.5672, 1651) -> (-1546.5672, 1650.9746)
  line L11 (-1546.5672, 1650.9746) -> (-1527.522, 1650.9746)
  line L12 (-1527.522, 1650.9746) -> (-1527.522, 1651)
  dimension "d105" = 0.0254
extrude "Extrude18" cut sketch "Sketch20" against normal blind 0.0254 contours L2 L7 L9 L10 L11 L12
sketch "Sketch21" plane through (0, 0, 50.8) normal (0, 0, 1) x (-1, 0, 0)
  line L0 (-1527.522, 1650.9746) -> (-1527.522, 1645.7974)
  arc A0 (-1527.1752, 1612.9) -> (-1527.522, 1645.7974) centre (-2908.8371, 1614.7833) ccw
  arc A1 (-1529.714, 1527.2745) -> (-1527.1752, 1612.9) centre (-2908.8371, 1611.0167) ccw
  arc A2 (-1529.714, 1527.2745) -> (-639.1793, 581.025) centre (-639.1793, 1473.2) ccw
  line L1 (-639.1793, 581.025) -> (-511.2004, 581.025)
  line L2 (-511.2004, 581.025) -> (-511.2004, 561.975)
  line L3 (-511.2004, 561.975) -> (-639.1793, 561.975)
  arc A3 (-1548.729, 1528.4291) -> (-639.1793, 561.975) centre (-639.1793, 1473.2) ccw
  arc A4 (-1548.729, 1528.4291) -> (-1546.2252, 1612.9) centre (-2908.8371, 1611.0167) ccw
  arc A5 (-1546.2252, 1612.9) -> (-1546.5672, 1645.3698) centre (-2908.8371, 1614.7833) ccw
  line L4 (-1546.5672, 1645.3698) -> (-1546.5672, 1650.9746)
  line L5 (-1546.5672, 1650.9746) -> (-1527.522, 1650.9746)
  circle A6 centre (-1353.9986, 1358.9) radius 16
  circle A7 centre (-793.75, 765.9949) radius 16
  line L6 (-1295.8054, 1651) -> (-2198.0077, 1651)
  arc A8 (-2959.5333, 813.6871) -> (-2198.0077, 1651) centre (-2997.2, 1612.9) ccw
  line L7 (-2959.5333, 813.6871) -> (-2946.4, 813.6871)
  line L8 (-2946.4, 813.6871) -> (-2946.4, 0)
  line L9 (-2946.4, 0) -> (-511.175, 0)
  line L10 (-511.175, 0) -> (-511.175, 812.8)
  line L11 (-511.175, 812.8) -> (-639.1793, 812.8)
  arc A9 (-1298.3651, 1513.2267) -> (-639.1793, 812.8) centre (-639.1793, 1473.2) ccw
  arc A10 (-1298.3651, 1513.2267) -> (-1295.4, 1612.9) centre (-2908.8371, 1611.0167) ccw
  arc A11 (-1295.4, 1612.9) -> (-1295.8054, 1651) centre (-2908.8371, 1614.7833) ccw
  line L12 (-2946.3746, 250.825) -> (-511.2004, 250.825)
  line L13 (-511.2004, 250.825) -> (-511.2004, 231.775)
  line L14 (-511.2004, 231.775) -> (-2946.3746, 231.775)
  line L15 (-2946.3746, 231.775) -> (-2946.3746, 250.825)
  circle A12 centre (-2768.6, 63.5) radius 16
  circle A13 centre (-2171.7977, 1358.9) radius 16
  arc A14 (-2947.7252, 563.1402) -> (-1947.4672, 1662.944) centre (-2997.2, 1612.9) ccw
  arc A15 (-2948.622, 582.1691) -> (-1966.4956, 1662.0369) centre (-2997.2, 1612.9) ccw
  dimension "d108" = 250.825
  dimension "d109" = 231.775
extrude "Extrude19" add sketch "Sketch21" along normal blind 0.0279 contours L6 L8 A14 A15
sketch "Sketch22" plane through (0, 0, 50.8) normal (0, 0, 1) x (-1, 0, 0)
sketch "Sketch23" plane through (0, 0, 50.8) normal (0, 0, 1) x (-1, 0, 0)
  line L0 (-1527.522, 1650.9746) -> (-1527.522, 1645.7974)
  arc A0 (-1527.1752, 1612.9) -> (-1527.522, 1645.7974) centre (-2908.8371, 1614.7833) ccw
  arc A1 (-1529.714, 1527.2745) -> (-1527.1752, 1612.9) centre (-2908.8371, 1611.0167) ccw
  arc A2 (-1529.714, 1527.2745) -> (-639.1793, 581.025) centre (-639.1793, 1473.2) ccw
  line L1 (-639.1793, 581.025) -> (-511.2004, 581.025)
  line L2 (-511.2004, 581.025) -> (-511.2004, 561.975)
  line L3 (-511.2004, 561.975) -> (-639.1793, 561.975)
  arc A3 (-1548.729, 1528.4291) -> (-639.1793, 561.975) centre (-639.1793, 1473.2) ccw
  arc A4 (-1548.729, 1528.4291) -> (-1546.2252, 1612.9) centre (-2908.8371, 1611.0167) ccw
  arc A5 (-1546.2252, 1612.9) -> (-1546.5672, 1645.3698) centre (-2908.8371, 1614.7833) ccw
  line L4 (-1546.5672, 1645.3698) -> (-1546.5672, 1650.9746)
  line L5 (-1546.5672, 1650.9746) -> (-1527.522, 1650.9746)
  circle A6 centre (-1353.9986, 1358.9) radius 16
  circle A7 centre (-793.75, 765.9949) radius 16
  arc A8 (-2946.4, 563.2035) -> (-1946.9659, 1651) centre (-2997.2, 1612.9) ccw
  line L6 (-2946.4, 563.2035) -> (-2946.4, 0)
  line L7 (-2946.4, 0) -> (-511.175, 0)
  line L8 (-511.175, 0) -> (-511.175, 812.8)
  line L9 (-511.175, 812.8) -> (-639.1793, 812.8)
  arc A9 (-1298.3651, 1513.2267) -> (-639.1793, 812.8) centre (-639.1793, 1473.2) ccw
  arc A10 (-1298.3651, 1513.2267) -> (-1295.4, 1612.9) centre (-2908.8371, 1611.0167) ccw
  arc A11 (-1295.4, 1612.9) -> (-1295.8054, 1651) centre (-2908.8371, 1614.7833) ccw
  line L10 (-1295.8054, 1651) -> (-1946.9659, 1651)
  line L11 (-2946.3746, 250.825) -> (-511.2004, 250.825)
  line L12 (-511.2004, 250.825) -> (-511.2004, 231.775)
  line L13 (-511.2004, 231.775) -> (-2946.3746, 231.775)
  line L14 (-2946.3746, 231.775) -> (-2946.3746, 250.825)
  circle A12 centre (-2768.6, 63.5) radius 16
sketch "Sketch24" plane through (0, 0, 50.8) normal (0, 0, 1) x (-1, 0, 0)
  line L0 (-2997.2, 812.8) -> (-2997.2, 581.025)
  line L1 (-2997.2, 812.8) -> (-2997.2, 561.975)
  line L2 (-2997.2, 561.975) -> (-2974.975, 561.975)
  line L3 (-2974.975, 561.975) -> (-2974.975, 581.025)
  line L4 (-2974.975, 581.025) -> (-2997.2, 581.025)
  line L5 (-2997.2, 581.025) -> (-2997.2, 561.975)
  line L6 (-2974.975, 0) -> (-2974.975, 813.1087)
  point P0 (-2997.2, 812.8)
  dimension "d112" = 231.775
  dimension "d113" = 250.825
extrude "Extrude20" add sketch "Sketch24" along normal blind 0.0279
extrude "Extrude21" cut sketch "Sketch24" along normal blind 0.0279
extrude "Extrude22" add sketch "Sketch24" along normal blind 0.0279
sketch "Sketch25" plane through (0, 0, 50.8) normal (0, 0, 1) x (-1, 0, 0)
  line L0 (-2198.0077, 1679.575) -> (-1296.7004, 1679.575)
  arc A0 (-1296.7004, 1679.575) -> (-2997.2, 3225.8) centre (-2908.8371, 1614.7833) ccw
  line L1 (-2997.2, 3225.8) -> (-2997.2, 2413)
  arc A1 (-2198.0077, 1651) -> (-2997.2, 2413) centre (-2997.2, 1612.9) ccw
  line L2 (-2198.0077, 1651) -> (-2198.0077, 1679.575)
  arc A2 (-1966.4956, 1662.0369) -> (-2997.2, 2644.775) centre (-2997.2, 1612.9) ccw
  arc A3 (-1947.4672, 1662.944) -> (-2997.2, 2663.825) centre (-2997.2, 1612.9) ccw
  dimension "d121" = 250.825
extrude "Extrude23" add sketch "Sketch25" along normal blind 0.0279 contours L0 L1 A2 A3
sketch "Sketch28" plane through (0, 0, 50.8) normal (0, 0, 1) x (-1, 0, 0)
  arc A0 (-1948.3922, 1679.575) -> (-2997.2, 2663.825) centre (-2997.2, 1612.9) ccw
  line L0 (-1948.3922, 1679.575) -> (-1296.7004, 1679.575)
  arc A1 (-1296.7004, 1679.575) -> (-2997.2, 3225.8) centre (-2908.8371, 1614.7833) ccw
  line L1 (-2997.2, 3225.8) -> (-2997.2, 2663.825)
  arc A2 (-1547.323, 1669.5025) -> (-2983.4631, 2975.3514) centre (-2908.8371, 1614.7833) ccw
  arc A3 (-1528.2884, 1670.2675) -> (-2984.5064, 2994.3729) centre (-2908.8371, 1614.7833) ccw
  line L2 (-2983.4631, 2975.3514) -> (-2997.2, 2974.598)
  line L3 (-2984.5064, 2994.3729) -> (-2997.2, 2993.6766)
  dimension "d125" = -231.775
extrude "Extrude24" add sketch "Sketch28" along normal blind 0.0279 contours L0 L1 A2 A3 L2 L3
equation "d18 = ( 26 * 2 ) * 1 in"
